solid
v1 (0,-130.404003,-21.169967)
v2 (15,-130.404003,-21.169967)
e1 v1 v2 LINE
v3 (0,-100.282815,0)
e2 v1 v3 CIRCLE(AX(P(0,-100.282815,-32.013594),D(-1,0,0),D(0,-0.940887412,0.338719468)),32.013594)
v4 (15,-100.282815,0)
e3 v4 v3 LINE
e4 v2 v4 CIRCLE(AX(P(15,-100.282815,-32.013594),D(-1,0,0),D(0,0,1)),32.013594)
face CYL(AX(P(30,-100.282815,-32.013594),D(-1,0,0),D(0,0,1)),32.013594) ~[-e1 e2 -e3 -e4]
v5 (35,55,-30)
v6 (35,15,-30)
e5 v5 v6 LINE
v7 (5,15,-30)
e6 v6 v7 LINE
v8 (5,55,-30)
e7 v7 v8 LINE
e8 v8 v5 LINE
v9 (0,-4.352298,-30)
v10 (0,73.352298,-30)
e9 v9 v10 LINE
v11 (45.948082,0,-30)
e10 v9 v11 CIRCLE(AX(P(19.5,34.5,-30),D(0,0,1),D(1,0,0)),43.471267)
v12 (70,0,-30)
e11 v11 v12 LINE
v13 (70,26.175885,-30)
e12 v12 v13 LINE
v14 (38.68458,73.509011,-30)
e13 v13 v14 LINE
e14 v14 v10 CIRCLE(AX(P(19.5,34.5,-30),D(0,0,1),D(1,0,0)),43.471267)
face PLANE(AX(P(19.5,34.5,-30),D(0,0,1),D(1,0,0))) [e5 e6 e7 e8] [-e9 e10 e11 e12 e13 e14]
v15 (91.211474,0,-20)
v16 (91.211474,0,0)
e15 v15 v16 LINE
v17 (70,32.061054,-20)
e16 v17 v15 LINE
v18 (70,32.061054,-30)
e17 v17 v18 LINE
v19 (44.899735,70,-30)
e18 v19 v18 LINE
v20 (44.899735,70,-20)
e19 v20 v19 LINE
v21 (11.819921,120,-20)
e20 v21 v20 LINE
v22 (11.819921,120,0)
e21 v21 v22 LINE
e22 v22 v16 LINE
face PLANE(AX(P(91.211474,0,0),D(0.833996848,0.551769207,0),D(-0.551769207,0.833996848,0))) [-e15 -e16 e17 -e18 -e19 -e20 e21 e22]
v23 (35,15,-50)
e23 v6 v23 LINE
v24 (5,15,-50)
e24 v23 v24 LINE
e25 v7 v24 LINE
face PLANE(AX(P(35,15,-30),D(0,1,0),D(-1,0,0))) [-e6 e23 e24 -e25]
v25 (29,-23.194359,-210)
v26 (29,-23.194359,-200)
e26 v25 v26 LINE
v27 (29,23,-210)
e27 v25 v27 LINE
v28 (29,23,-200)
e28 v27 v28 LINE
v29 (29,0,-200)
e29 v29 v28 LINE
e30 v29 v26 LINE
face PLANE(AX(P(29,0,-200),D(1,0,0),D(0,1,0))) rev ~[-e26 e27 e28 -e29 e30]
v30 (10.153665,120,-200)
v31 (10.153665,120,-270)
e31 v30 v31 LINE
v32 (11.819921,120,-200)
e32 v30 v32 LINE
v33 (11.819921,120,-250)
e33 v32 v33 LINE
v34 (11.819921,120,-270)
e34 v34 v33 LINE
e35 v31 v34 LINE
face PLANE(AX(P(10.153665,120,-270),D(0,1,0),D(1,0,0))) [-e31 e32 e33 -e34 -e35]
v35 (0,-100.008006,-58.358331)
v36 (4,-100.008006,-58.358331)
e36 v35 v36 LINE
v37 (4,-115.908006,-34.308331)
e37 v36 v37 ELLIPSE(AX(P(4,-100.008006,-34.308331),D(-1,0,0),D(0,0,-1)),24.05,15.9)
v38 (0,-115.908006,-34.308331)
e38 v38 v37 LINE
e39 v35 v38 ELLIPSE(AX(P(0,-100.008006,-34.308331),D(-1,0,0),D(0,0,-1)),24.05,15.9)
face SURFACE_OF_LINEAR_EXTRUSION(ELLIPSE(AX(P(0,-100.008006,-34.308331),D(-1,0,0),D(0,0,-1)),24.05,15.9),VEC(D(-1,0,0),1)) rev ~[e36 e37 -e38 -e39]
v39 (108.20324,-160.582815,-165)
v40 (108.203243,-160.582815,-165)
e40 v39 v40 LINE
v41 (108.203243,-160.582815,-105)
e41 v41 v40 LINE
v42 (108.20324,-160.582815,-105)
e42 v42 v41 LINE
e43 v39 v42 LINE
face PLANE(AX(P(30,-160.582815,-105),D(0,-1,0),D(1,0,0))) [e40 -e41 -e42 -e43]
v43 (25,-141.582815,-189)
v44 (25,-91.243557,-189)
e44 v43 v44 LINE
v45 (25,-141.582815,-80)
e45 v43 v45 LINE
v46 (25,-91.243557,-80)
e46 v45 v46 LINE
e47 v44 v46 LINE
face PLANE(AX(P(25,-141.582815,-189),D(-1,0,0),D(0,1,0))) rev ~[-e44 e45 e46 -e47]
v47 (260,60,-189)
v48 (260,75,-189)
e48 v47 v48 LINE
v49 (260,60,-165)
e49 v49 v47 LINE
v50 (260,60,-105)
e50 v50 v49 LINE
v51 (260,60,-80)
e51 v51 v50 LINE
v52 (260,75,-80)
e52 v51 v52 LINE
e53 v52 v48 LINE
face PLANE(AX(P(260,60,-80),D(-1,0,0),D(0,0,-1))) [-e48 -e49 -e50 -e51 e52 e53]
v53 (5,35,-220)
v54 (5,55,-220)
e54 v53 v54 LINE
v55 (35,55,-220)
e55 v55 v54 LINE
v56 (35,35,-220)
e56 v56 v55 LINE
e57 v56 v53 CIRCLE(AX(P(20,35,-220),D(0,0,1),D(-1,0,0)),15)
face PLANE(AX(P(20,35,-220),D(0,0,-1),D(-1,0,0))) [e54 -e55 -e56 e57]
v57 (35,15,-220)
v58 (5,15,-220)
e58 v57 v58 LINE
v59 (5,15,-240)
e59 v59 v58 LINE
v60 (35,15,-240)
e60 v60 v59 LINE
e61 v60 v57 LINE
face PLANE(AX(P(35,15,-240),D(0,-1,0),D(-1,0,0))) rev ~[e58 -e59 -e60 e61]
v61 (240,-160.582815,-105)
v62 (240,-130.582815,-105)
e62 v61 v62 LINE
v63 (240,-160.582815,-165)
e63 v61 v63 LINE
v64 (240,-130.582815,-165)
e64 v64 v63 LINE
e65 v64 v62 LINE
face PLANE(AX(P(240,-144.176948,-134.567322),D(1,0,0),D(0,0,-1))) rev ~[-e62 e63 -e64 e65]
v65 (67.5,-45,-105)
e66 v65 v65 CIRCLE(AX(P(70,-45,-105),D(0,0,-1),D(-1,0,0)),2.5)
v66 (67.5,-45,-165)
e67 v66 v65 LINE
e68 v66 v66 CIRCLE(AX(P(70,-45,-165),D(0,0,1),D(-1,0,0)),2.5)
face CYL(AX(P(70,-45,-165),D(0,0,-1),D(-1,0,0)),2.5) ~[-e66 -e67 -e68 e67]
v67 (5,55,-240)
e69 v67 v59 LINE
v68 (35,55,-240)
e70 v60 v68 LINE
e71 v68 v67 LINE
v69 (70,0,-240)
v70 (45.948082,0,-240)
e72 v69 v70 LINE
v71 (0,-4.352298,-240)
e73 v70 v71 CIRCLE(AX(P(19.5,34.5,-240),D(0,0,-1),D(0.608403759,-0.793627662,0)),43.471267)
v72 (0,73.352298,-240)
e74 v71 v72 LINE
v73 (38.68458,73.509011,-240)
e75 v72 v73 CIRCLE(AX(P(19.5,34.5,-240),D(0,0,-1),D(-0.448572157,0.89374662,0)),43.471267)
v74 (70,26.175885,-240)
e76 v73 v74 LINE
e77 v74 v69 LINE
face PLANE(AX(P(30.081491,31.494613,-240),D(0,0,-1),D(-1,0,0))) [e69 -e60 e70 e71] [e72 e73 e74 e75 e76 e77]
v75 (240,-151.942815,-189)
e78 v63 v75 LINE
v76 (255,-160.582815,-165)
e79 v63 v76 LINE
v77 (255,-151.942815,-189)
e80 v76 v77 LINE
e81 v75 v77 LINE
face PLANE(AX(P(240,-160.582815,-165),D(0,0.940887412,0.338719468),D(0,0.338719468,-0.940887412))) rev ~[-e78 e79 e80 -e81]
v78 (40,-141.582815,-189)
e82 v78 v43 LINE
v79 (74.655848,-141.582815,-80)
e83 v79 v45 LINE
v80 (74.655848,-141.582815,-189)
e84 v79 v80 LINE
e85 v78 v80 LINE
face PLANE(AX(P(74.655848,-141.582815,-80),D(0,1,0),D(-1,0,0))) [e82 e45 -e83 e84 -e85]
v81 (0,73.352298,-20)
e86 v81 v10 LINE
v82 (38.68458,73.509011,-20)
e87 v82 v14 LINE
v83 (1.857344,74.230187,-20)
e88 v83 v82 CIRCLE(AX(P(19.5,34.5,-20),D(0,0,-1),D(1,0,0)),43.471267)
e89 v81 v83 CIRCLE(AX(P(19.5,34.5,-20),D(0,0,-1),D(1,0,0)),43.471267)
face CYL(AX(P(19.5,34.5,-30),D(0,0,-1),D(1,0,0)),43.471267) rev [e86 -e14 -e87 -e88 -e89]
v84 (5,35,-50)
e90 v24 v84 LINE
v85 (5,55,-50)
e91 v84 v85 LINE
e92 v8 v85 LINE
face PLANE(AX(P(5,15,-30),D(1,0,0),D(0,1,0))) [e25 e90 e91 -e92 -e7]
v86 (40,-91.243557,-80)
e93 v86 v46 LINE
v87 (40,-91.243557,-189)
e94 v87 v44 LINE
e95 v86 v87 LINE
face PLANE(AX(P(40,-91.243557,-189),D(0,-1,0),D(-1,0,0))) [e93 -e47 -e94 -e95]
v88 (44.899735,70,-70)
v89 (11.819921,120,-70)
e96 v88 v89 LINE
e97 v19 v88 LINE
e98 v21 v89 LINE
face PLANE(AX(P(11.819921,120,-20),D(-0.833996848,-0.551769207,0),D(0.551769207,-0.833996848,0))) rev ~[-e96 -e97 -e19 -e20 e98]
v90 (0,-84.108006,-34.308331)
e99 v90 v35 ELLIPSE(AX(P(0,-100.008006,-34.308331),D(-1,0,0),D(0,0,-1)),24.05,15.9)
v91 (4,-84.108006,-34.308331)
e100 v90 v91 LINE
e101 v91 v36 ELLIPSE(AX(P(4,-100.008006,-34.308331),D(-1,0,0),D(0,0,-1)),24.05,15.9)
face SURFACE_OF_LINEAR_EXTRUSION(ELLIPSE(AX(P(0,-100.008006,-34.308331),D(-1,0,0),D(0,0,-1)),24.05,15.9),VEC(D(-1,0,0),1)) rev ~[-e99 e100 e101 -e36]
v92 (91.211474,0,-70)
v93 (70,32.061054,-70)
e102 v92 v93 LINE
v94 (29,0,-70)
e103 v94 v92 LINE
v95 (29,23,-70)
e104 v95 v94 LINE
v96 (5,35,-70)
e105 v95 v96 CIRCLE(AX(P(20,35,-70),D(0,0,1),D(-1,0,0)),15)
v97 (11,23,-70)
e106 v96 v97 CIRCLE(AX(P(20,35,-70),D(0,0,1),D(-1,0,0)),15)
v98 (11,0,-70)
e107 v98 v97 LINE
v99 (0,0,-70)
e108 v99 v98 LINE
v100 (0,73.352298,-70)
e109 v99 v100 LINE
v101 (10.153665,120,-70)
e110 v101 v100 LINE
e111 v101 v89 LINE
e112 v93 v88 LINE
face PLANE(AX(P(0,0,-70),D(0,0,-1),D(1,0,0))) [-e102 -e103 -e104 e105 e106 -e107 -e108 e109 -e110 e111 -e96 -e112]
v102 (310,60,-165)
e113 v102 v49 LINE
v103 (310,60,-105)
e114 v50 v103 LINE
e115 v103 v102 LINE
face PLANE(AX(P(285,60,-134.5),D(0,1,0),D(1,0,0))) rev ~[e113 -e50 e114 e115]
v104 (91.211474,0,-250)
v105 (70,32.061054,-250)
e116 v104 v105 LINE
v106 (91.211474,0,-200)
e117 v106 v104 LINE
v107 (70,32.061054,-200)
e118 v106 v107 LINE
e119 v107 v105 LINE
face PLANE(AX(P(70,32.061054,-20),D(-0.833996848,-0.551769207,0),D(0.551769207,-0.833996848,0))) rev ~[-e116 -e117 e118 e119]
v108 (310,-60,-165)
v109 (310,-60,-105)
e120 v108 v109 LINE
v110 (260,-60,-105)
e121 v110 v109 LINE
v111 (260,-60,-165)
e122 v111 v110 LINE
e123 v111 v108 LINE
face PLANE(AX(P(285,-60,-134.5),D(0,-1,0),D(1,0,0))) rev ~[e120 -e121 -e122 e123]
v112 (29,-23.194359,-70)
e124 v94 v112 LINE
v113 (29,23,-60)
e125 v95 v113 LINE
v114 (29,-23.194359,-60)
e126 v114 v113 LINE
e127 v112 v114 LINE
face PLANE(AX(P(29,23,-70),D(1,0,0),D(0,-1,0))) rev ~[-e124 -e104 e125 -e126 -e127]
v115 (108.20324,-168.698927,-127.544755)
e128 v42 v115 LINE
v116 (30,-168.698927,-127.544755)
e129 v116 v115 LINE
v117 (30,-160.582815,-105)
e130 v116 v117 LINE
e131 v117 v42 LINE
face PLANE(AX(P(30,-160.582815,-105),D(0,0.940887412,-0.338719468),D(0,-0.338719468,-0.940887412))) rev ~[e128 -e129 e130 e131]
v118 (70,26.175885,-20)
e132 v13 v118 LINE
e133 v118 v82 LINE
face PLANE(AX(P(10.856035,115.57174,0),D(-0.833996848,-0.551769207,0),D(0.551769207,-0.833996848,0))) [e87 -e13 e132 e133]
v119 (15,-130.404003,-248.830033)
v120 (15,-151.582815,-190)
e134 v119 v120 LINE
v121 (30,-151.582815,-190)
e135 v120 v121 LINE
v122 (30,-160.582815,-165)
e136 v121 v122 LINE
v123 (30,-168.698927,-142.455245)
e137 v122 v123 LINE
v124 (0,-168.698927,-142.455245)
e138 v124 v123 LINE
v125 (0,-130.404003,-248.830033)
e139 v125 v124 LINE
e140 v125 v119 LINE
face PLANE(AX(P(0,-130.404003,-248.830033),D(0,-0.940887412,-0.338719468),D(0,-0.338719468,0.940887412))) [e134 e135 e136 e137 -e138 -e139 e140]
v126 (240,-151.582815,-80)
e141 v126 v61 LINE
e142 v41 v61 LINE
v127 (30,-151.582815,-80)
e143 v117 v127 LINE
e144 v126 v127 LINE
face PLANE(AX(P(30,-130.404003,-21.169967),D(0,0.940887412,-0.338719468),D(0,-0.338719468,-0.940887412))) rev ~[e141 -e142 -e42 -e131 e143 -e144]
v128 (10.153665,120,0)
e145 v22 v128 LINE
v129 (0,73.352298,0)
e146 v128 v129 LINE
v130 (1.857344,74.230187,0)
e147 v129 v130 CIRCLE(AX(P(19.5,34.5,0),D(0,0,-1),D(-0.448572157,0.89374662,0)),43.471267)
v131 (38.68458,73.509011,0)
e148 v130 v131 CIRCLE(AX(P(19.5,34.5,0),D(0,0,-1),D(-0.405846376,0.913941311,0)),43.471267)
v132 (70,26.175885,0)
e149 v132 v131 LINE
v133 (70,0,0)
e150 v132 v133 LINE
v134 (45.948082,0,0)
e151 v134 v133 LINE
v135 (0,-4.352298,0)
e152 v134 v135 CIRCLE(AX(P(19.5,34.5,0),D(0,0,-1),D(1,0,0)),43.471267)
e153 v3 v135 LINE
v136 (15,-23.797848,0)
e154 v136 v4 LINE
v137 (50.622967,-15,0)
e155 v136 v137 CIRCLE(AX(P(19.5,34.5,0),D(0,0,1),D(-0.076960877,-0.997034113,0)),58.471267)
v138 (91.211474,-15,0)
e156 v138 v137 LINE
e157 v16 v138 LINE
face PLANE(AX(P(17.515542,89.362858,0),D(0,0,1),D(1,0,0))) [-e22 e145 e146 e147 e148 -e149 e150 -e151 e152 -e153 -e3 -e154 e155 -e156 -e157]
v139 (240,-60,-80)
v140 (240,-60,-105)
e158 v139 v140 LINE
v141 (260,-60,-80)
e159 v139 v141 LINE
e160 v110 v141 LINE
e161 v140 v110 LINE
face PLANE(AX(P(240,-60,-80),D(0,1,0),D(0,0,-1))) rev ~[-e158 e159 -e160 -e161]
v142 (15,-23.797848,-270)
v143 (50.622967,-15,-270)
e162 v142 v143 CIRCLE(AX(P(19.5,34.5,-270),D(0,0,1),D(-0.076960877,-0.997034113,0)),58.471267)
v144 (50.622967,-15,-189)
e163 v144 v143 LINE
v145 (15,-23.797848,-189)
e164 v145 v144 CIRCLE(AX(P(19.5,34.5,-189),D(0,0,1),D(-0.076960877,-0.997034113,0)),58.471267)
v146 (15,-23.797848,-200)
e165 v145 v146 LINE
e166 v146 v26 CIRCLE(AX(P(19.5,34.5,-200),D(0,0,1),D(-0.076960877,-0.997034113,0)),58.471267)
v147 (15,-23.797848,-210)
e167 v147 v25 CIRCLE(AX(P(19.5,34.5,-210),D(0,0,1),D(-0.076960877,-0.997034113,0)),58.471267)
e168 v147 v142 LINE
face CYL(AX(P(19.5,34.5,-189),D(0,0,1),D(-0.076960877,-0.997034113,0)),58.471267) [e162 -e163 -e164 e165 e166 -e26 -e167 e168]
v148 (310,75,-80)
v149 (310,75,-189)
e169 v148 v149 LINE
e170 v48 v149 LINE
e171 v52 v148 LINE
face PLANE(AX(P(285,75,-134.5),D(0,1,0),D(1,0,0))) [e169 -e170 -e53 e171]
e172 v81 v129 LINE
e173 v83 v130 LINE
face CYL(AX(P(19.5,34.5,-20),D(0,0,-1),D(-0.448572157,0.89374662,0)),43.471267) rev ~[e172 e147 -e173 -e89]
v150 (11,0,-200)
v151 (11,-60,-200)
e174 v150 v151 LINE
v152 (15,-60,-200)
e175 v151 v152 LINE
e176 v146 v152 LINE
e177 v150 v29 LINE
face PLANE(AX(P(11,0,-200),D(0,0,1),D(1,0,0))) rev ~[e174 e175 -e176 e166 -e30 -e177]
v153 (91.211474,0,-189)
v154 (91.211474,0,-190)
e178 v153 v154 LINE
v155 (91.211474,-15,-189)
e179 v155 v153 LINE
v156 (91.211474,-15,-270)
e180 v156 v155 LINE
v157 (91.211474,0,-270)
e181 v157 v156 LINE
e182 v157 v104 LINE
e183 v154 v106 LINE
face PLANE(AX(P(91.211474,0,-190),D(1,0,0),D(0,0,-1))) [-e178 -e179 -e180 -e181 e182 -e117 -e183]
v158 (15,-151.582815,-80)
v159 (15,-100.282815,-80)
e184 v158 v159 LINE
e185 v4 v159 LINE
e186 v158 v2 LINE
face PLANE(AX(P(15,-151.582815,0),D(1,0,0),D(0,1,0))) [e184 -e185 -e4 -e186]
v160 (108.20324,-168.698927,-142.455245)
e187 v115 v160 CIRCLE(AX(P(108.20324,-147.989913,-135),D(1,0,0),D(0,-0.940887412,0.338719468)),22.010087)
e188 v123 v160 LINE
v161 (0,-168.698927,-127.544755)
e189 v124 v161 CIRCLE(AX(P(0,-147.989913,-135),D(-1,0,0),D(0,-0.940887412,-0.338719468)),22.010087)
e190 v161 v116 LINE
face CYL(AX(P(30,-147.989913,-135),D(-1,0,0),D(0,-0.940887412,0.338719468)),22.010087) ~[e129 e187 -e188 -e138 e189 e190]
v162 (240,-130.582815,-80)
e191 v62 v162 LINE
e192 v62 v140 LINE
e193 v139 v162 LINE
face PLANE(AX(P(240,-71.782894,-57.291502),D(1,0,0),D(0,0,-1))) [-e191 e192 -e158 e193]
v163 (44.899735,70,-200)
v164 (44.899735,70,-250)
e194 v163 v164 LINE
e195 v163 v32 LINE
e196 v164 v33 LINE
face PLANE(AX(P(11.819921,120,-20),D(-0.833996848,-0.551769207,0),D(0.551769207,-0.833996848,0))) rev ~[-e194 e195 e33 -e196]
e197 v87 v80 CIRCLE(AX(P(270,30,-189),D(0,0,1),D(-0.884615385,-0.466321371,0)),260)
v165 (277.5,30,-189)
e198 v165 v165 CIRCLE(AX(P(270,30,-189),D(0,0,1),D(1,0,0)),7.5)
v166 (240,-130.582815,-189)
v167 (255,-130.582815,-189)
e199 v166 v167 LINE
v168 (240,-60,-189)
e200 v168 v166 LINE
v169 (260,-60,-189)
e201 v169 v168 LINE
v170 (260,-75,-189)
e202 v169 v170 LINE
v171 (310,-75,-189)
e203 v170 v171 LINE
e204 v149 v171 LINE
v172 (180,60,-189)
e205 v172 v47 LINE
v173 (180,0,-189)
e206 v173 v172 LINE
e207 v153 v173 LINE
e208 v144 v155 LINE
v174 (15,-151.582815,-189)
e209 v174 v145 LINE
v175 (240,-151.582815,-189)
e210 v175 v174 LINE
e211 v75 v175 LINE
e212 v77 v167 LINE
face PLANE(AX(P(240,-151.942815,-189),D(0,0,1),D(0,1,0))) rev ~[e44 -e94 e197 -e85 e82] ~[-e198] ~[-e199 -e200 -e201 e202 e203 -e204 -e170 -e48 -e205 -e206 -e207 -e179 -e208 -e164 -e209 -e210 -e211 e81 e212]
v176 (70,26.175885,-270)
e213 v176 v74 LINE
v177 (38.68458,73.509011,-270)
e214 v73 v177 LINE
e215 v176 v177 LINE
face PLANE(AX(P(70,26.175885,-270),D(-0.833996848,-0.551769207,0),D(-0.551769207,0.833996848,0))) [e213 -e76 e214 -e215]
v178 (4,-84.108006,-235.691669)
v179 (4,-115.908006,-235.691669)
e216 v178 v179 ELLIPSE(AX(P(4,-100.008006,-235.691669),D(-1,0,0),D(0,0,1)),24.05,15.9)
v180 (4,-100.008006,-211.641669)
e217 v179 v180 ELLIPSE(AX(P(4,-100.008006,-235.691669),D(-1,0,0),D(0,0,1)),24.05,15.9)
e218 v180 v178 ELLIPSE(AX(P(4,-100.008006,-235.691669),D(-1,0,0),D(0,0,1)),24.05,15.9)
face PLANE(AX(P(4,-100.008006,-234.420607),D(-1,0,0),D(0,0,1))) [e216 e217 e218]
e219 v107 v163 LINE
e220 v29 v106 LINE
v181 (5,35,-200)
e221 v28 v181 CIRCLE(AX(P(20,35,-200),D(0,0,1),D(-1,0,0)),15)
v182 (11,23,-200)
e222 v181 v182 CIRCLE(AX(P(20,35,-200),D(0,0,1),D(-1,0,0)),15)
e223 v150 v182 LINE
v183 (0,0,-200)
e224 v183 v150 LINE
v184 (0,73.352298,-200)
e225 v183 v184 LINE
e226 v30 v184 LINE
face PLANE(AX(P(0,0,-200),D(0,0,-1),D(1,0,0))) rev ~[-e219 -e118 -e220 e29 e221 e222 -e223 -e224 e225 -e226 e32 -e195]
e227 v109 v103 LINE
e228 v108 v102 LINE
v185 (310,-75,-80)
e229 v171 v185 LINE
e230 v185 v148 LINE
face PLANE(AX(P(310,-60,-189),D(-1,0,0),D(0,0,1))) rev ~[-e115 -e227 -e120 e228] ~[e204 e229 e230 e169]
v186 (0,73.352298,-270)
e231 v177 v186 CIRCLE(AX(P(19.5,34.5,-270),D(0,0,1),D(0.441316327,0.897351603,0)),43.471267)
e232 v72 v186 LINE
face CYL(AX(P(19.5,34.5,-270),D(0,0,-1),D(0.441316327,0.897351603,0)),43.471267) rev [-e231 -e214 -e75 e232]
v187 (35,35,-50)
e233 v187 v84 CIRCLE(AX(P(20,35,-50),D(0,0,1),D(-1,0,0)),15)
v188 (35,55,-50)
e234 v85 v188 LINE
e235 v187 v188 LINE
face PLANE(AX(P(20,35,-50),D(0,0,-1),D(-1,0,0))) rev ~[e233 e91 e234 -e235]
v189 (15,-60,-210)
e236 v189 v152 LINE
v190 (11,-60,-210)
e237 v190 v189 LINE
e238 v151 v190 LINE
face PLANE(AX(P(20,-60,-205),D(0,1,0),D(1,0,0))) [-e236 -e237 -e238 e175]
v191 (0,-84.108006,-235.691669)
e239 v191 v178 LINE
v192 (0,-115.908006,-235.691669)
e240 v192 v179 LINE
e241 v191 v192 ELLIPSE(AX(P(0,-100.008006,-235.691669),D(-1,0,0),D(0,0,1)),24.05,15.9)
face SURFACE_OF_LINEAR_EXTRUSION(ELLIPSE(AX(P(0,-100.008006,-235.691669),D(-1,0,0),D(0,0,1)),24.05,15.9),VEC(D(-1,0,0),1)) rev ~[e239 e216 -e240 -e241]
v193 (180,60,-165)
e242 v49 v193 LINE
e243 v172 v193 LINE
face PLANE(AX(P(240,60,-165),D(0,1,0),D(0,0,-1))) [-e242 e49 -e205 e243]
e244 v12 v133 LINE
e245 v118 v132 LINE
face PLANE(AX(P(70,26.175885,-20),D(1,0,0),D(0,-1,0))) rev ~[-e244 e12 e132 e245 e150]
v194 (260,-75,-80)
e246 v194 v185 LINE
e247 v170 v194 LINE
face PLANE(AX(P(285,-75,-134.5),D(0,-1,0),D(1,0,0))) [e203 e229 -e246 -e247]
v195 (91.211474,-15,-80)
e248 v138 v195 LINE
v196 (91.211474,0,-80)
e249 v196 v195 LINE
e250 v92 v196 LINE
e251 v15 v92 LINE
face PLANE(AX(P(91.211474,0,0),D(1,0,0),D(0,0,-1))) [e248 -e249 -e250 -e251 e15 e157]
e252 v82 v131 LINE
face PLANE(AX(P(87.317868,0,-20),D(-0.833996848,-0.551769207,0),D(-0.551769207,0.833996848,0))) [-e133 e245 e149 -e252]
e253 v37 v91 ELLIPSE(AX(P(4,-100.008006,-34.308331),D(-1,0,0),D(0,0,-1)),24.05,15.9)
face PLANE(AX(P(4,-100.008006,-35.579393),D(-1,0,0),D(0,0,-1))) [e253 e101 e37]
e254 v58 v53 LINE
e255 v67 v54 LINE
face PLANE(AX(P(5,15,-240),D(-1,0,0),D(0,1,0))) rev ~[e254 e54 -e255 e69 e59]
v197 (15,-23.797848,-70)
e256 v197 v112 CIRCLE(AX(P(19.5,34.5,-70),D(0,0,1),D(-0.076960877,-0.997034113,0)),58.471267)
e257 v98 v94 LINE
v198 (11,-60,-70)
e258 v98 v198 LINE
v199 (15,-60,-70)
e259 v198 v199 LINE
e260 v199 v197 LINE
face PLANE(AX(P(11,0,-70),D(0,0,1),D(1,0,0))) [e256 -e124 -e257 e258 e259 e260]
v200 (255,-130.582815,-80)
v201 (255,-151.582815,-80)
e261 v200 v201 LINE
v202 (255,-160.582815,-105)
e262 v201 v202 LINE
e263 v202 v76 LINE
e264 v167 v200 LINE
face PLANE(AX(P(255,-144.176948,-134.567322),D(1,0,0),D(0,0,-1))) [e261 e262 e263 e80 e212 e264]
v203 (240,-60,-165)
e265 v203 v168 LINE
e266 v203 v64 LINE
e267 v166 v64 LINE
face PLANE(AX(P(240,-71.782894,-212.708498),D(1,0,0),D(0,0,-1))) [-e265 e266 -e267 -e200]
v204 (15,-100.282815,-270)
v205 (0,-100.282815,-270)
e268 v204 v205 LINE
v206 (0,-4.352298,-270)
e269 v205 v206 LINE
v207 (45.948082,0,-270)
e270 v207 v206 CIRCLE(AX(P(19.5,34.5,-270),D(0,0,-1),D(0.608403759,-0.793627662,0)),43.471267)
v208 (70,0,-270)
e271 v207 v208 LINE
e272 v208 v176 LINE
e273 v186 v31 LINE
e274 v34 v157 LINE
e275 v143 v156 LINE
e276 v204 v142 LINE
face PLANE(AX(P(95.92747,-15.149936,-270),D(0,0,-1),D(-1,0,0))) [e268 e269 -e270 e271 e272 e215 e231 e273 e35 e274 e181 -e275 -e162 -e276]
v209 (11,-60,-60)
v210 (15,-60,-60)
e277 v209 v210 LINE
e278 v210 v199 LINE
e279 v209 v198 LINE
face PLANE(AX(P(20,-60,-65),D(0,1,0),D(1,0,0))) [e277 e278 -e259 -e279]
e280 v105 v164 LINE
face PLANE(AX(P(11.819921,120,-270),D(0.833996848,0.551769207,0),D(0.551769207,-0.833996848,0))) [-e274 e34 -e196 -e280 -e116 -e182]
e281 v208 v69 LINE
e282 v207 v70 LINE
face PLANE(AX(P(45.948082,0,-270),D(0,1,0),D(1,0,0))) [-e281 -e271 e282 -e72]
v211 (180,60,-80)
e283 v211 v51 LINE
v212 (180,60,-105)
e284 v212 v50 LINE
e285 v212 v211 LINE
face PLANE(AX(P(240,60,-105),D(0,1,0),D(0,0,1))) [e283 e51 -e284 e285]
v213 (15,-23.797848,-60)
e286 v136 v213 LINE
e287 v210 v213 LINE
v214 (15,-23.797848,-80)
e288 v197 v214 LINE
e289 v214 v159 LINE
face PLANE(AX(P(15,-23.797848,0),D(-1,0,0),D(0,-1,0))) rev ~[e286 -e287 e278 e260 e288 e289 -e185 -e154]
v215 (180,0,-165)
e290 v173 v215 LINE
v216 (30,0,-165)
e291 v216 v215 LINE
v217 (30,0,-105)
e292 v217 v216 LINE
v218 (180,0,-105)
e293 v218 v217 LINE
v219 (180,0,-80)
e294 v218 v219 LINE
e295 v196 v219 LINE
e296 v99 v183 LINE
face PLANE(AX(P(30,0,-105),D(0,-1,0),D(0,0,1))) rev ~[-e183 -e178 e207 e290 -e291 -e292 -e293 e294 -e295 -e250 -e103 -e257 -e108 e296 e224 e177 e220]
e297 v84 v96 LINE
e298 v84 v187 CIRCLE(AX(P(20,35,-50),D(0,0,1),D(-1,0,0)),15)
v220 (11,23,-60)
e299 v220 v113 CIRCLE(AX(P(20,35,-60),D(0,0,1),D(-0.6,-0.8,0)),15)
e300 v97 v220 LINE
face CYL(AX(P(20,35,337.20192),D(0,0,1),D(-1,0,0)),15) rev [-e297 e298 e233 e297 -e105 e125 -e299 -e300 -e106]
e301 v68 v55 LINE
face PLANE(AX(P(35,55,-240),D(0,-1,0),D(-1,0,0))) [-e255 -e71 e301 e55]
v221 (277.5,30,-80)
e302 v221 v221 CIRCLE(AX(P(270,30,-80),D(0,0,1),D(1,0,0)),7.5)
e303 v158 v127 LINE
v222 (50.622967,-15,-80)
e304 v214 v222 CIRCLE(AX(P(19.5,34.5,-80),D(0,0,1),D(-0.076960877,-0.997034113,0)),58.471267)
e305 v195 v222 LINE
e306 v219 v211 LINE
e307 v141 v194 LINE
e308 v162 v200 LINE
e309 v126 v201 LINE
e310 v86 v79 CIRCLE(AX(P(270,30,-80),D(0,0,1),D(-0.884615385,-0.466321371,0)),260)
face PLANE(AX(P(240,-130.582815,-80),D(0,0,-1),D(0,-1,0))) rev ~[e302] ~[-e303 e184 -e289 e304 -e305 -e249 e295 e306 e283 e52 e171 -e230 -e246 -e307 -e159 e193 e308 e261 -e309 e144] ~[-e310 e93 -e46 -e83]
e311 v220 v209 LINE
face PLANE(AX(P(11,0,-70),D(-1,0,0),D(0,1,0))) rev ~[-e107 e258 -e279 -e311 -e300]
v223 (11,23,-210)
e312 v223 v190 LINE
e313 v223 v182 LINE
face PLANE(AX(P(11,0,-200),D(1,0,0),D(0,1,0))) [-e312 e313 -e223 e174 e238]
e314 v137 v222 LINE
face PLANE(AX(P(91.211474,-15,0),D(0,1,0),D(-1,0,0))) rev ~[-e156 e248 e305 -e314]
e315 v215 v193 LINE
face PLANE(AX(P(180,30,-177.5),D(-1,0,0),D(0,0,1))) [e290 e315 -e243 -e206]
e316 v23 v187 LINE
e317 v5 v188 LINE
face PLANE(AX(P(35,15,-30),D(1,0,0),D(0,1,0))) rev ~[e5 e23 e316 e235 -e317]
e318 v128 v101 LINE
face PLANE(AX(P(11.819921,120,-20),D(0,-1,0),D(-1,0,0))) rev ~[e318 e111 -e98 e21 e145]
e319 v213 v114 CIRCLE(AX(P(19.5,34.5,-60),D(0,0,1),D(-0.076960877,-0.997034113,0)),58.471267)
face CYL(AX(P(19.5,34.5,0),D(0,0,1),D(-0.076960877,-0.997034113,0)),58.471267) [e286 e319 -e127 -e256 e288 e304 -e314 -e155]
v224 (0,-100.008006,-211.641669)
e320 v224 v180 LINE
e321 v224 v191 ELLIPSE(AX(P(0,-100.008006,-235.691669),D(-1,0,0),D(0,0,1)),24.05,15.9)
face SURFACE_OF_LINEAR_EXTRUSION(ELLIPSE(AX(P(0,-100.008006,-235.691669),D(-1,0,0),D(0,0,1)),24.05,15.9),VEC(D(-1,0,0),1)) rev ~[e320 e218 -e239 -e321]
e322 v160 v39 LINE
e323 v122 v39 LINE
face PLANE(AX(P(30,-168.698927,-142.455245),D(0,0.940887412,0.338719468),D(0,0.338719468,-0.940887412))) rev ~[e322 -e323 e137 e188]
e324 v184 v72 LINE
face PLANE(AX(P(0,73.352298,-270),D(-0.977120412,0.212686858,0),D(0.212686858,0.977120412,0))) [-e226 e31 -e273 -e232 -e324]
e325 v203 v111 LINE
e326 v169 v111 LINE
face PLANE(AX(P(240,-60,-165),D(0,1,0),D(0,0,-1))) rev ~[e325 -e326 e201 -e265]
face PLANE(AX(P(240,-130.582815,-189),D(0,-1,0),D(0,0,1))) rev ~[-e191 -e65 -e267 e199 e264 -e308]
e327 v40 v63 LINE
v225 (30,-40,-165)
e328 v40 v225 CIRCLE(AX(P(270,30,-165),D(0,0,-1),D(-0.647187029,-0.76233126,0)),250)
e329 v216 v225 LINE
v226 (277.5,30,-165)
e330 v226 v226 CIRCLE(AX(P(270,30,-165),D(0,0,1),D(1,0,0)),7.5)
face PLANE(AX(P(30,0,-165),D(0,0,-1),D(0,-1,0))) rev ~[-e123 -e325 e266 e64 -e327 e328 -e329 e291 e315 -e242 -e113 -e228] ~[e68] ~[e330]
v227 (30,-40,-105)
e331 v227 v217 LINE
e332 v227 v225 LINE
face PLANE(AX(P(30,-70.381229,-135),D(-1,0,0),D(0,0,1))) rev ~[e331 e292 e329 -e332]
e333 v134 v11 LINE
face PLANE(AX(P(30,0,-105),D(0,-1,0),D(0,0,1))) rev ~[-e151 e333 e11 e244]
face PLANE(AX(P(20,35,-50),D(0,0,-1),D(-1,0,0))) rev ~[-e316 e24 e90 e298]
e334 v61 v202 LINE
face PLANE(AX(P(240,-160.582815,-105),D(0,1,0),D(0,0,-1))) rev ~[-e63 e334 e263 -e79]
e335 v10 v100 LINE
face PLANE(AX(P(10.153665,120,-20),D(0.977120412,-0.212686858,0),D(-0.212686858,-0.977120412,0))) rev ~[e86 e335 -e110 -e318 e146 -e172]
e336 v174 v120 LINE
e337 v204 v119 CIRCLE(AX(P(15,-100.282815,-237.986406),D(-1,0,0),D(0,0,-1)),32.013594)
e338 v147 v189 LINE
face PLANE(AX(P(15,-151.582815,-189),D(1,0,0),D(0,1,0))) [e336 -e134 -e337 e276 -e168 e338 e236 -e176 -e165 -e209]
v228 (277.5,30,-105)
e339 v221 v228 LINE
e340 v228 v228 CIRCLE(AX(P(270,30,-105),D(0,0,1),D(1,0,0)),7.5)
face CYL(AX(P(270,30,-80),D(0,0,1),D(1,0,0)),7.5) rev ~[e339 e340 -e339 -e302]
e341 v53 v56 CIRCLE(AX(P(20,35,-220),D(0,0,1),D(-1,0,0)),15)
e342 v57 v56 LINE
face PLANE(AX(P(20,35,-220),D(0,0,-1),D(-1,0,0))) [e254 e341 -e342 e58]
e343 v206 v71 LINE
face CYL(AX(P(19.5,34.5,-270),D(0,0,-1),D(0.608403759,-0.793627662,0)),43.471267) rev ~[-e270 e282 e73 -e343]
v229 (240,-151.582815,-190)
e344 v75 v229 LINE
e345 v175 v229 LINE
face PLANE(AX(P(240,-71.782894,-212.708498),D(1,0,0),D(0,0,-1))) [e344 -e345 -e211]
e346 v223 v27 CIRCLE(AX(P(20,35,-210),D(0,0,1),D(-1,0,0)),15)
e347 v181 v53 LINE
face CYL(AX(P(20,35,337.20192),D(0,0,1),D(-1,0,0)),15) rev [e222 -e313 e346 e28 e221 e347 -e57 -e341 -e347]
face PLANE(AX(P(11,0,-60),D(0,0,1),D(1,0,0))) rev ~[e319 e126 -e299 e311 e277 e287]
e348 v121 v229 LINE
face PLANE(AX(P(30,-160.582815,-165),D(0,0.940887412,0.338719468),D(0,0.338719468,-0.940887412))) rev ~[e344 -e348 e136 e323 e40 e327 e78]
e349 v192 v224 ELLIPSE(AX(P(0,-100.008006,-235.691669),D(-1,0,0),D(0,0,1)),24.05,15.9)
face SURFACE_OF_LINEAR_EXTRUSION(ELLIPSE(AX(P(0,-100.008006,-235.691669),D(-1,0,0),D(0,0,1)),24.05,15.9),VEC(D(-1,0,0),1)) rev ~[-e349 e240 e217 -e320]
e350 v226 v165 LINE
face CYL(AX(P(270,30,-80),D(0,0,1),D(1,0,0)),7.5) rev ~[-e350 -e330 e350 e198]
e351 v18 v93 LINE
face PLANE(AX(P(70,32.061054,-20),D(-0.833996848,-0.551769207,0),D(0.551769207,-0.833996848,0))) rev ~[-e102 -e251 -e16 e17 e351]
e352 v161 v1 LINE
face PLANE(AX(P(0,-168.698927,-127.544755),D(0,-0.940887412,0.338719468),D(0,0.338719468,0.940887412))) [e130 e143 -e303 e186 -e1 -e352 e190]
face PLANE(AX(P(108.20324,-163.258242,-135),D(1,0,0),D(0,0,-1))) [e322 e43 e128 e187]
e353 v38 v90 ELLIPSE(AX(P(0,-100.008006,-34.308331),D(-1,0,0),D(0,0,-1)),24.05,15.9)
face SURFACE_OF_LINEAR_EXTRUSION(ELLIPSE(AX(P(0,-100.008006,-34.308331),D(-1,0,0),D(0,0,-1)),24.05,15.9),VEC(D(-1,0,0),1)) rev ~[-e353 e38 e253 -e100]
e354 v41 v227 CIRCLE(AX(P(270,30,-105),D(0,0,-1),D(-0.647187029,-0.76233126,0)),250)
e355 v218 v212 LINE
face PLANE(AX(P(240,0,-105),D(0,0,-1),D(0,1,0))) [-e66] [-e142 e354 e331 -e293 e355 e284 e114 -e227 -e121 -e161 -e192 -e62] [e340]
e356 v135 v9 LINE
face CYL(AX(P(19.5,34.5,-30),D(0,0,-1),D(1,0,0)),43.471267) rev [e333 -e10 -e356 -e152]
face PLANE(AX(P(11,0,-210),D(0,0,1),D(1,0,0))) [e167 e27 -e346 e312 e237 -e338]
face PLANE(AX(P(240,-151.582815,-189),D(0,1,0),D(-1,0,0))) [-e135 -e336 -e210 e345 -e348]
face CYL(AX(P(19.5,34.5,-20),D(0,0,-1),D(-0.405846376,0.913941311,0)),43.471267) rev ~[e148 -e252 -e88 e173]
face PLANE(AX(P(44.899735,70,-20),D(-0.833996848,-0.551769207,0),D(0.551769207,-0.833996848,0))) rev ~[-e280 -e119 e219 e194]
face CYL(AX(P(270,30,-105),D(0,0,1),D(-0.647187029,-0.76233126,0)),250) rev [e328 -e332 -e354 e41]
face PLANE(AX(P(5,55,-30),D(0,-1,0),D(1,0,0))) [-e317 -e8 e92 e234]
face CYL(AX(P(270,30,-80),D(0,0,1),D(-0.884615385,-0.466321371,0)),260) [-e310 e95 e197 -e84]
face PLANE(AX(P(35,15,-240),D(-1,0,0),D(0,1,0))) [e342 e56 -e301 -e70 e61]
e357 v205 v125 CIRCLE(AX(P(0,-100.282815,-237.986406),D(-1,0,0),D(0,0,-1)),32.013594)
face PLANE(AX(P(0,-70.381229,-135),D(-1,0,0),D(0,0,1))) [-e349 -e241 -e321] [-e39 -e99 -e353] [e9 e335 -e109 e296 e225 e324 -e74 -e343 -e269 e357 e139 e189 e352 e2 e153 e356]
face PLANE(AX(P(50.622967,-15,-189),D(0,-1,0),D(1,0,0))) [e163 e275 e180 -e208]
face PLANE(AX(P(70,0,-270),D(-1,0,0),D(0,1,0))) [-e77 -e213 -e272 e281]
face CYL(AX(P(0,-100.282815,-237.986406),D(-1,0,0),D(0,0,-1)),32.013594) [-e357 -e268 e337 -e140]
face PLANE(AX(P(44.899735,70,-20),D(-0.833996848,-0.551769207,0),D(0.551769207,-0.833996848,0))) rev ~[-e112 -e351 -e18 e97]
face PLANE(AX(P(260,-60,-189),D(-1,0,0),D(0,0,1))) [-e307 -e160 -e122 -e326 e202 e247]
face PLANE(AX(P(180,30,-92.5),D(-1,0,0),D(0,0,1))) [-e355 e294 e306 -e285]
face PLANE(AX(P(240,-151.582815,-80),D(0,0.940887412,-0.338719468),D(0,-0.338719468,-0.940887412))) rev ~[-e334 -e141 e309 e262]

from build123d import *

# Parameters (mm, degrees)
EXTRUDE_1_DEPTH           = 30
EXTRUDE_2_DEPTH           = 210
SKETCH_8_W                = 25
SKETCH_8_H                = 120
EXTRUDE_5_DEPTH           = 70
SKETCH_9_W                = 25
SKETCH_9_H                = 60
EXTRUDE_6_DEPTH           = 60
SKETCH_10_R               = 7.5
CUT_EXTRUDE_3_DEPTH       = 402.372644808
EXTRUDE_7_DEPTH           = 60
EXTRUDE_8_REACH           = 392.16
SKETCH_12_R               = 2.5
SKETCH_14_W               = 125
SKETCH_14_H               = 50
EXTRUDE_9_DEPTH           = 120
SKETCH_15_W               = 70
SKETCH_15_H               = 70
CUT_EXTRUDE_4_DEPTH       = 10
CUT_EXTRUDE_5_DEPTH       = 20
SKETCH_17_R               = 43.471266984
CUT_EXTRUDE_6_DEPTH       = 428.317212384
EXTRUDE_10_DEPTH          = 20
EXTRUDE_11_DEPTH          = 20
CUT_EXTRUDE_7_DEPTH       = 434.012701892
CUT_EXTRUDE_8_DEPTH       = 434.012701892
EXTRUDE_19_REACH          = 446.86
EXTRUDE_20_DEPTH          = 20
EXTRUDE_21_DEPTH          = 20
EXTRUDE_START             = 20
EXTRUDE_22_DEPTH          = 20
CUT_EXTRUDE_9_DEPTH       = 30
CUT_EXTRUDE_11_DEPTH      = 407.201920232
CUT_EXTRUDE_11_DEPTH_BACK = 407.201920232
SKETCH_29_R               = 15
EXTRUDE_23_DEPTH          = 78.20324
SKETCH_33_W               = 30
SKETCH_33_H               = 40
CUT_EXTRUDE_14_DEPTH      = 20
SKETCH_34_W               = 18
SKETCH_34_H               = 35.300600551
CUT_EXTRUDE_15_DEPTH      = 10
CUT_EXTRUDE_16_DEPTH      = 10
SKETCH_36_RX              = 24.05
SKETCH_36_RY              = 15.9
SKETCH_36_R               = 15.9
CUT_EXTRUDE_17_DEPTH      = 4
SKETCH_37_W               = 148.788525811
SKETCH_37_H               = 80
CUT_EXTRUDE_18_DEPTH      = 445.859528391
SKETCH_38_W               = 76.211474189
SKETCH_38_H               = 51.3
CUT_EXTRUDE_20_DEPTH      = 80
CUT_EXTRUDE_START         = -81
CUT_EXTRUDE_21_DEPTH      = 81
CUT_EXTRUDE_22_DEPTH      = 402.372644808
SKETCH_41_W               = 18
SKETCH_41_H               = 10
CUT_EXTRUDE_23_DEPTH      = 60
SKETCH_44_W               = 50
SKETCH_44_H               = 109
EXTRUDE_26_DEPTH          = 15
SKETCH_45_W               = 50
SKETCH_45_H               = 109
EXTRUDE_27_DEPTH          = 15
EXTRUDE_28_DEPTH          = 15
SKETCH_47_W               = 15
SKETCH_47_H               = 50.339258453
CUT_EXTRUDE_24_DEPTH      = 109


with BuildPart() as part:
    # 草图1 → 凸台-拉伸1 (new body)
    with BuildSketch(Plane(origin=(0, 0, 0), x_dir=(0, 0, -1), z_dir=(1, 0, 0))):
        with BuildLine():
            Line((0, 0), (270, 0))
            Line((270, 0), (270, -100.282814983))
            ThreePointArc((270, -100.282814983), (264.178138298, -118.691056762), (248.830033233, -130.404003019))
            Line((248.830033233, -130.404003019), (142.45524498, -168.69892679))
            ThreePointArc((142.45524498, -168.69892679), (135, -170), (127.54475502, -168.69892679))
            Line((127.54475502, -168.69892679), (21.169966767, -130.404003019))
            ThreePointArc((21.169966767, -130.404003019), (5.821861702, -118.691056762), (0, -100.282814983))
            Line((0, -100.282814983), (0, 0))
        make_face()
    extrude(amount=EXTRUDE_1_DEPTH)

    # 草图2 → 凸台-拉伸2 (add)
    with BuildSketch(Plane(origin=(30, 0, 0), x_dir=(0, 0, -1), z_dir=(1, 0, 0))):
        with BuildLine():
            Line((105, -160.582814983), (105, 0))
            Line((105, 0), (0, 0))
            Line((0, 0), (0, -100.282814983))
            ThreePointArc((0, -100.282814983), (5.821861702, -118.691056762), (21.169966767, -130.404003019))
            Line((21.169966767, -130.404003019), (105, -160.582814983))
        make_face()
        with BuildLine():
            Line((270, 0), (165, 0))
            Line((165, 0), (165, -160.582814983))
            Line((165, -160.582814983), (248.830033233, -130.404003019))
            ThreePointArc((248.830033233, -130.404003019), (264.178138298, -118.691056762), (270, -100.282814983))
            Line((270, -100.282814983), (270, 0))
        make_face()
    extrude(amount=EXTRUDE_2_DEPTH)

    # 草图8 → 凸台-拉伸5 (add)
    with BuildSketch(Plane(origin=(240, 0, 0), x_dir=(0, 0, -1), z_dir=(1, 0, 0))):
        with Locations((92.5, 0)):
            Rectangle(SKETCH_8_W, SKETCH_8_H)
        with Locations((177.5, 0)):
            Rectangle(SKETCH_8_W, SKETCH_8_H)
    extrude(amount=EXTRUDE_5_DEPTH)

    # 草图9 → 凸台-拉伸6 (add)
    with BuildSketch(Plane.ZY.offset(-240)):
        with Locations((-92.5, 30)):
            Rectangle(SKETCH_9_W, SKETCH_9_H)
        with Locations((-177.5, 30)):
            Rectangle(SKETCH_9_W, SKETCH_9_H)
    extrude(amount=EXTRUDE_6_DEPTH)

    # 草图10 → 切除-拉伸3 (cut, through all)
    with BuildSketch(Plane.XY.offset(-80)):
        with Locations((270, 30)):
            Circle(SKETCH_10_R)
    extrude(amount=-CUT_EXTRUDE_3_DEPTH, mode=Mode.SUBTRACT)

    # 草图11 → 凸台-拉伸7 (add)
    with BuildSketch(Plane(origin=(0, 0, -105), x_dir=(-1, 0, 0), z_dir=(0, 0, -1))):
        with BuildLine():
            Line((-30, -40), (-30, -160.582814983))
            Line((-30, -160.582814983), (-108.203242822, -160.582814983))
            ThreePointArc((-108.203242822, -160.582814983), (-60.24964282, -106.032303748), (-30, -40))
        make_face()
    extrude(amount=EXTRUDE_7_DEPTH)

    # 草图12 → 凸台-拉伸8 (add, up to next)
    with BuildSketch(Plane.XY.offset(-165), mode=Mode.PRIVATE) as extrude_8_sk1:
        with Locations(Location((70, -45, 0), (0, 0, 180))):
            Circle(SKETCH_12_R)
    extrude_8_tool1 = extrude(extrude_8_sk1.sketch, amount=EXTRUDE_8_REACH, mode=Mode.PRIVATE) - part.part
    add(extrude_8_tool1.solids().sort_by_distance((70, -45, -165))[0])

    # 草图14 → 凸台-拉伸9 (add)
    with BuildSketch(Plane(origin=(0, 0, 0), x_dir=(1, 0, 0), z_dir=(0, 1, 0))):
        with Locations((62.5, 225)):
            Rectangle(SKETCH_14_W, SKETCH_14_H)
        with Locations((62.5, 45)):
            Rectangle(SKETCH_14_W, SKETCH_14_H)
    extrude(amount=EXTRUDE_9_DEPTH)

    # 草图15 → 切除-拉伸4 (cut)
    with BuildSketch(Plane.XY.offset(-20)):
        with Locations((35, 35)):
            Rectangle(SKETCH_15_W, SKETCH_15_H)
    extrude(amount=-CUT_EXTRUDE_4_DEPTH, mode=Mode.SUBTRACT)

    # 草图16 → 切除-拉伸5 (cut)
    with BuildSketch(Plane.XY.offset(-30)):
        Polygon((35, 15), (5, 15), (5, 55), (35, 55), (35, 35), align=None)
    extrude(amount=-CUT_EXTRUDE_5_DEPTH, mode=Mode.SUBTRACT)

    # 草图17 → 切除-拉伸6 (cut, through all)
    with BuildSketch(Plane.XY.offset(-30)):
        with Locations((19.5, 34.5)):
            Circle(SKETCH_17_R)
    extrude(amount=CUT_EXTRUDE_6_DEPTH, mode=Mode.SUBTRACT)

    # 草图18 → 凸台-拉伸10 (add)
    with BuildSketch(Plane.XY.offset(-20)):
        Polygon((11.819921283, 120), (91.211474189, 0), (87.317867735, 0), (10.741661946, 115.744614613), align=None)
    extrude(amount=EXTRUDE_10_DEPTH)

    # 草图19 → 凸台-拉伸11 (add)
    with BuildSketch(Plane.XY.offset(-20)):
        with BuildLine():
            Line((1.857343832, 74.230186717), (10.856035233, 115.571739869))
            Line((10.856035233, 115.571739869), (10.741661946, 115.744614613))
            Line((10.741661946, 115.744614613), (11.819921283, 120))
            Line((11.819921283, 120), (10.153664863, 120))
            Line((10.153664863, 120), (0, 73.352297914))
            ThreePointArc((0, 73.352297914), (0.923485284, 73.80221564), (1.857343832, 74.230186717))
        make_face()
    extrude(amount=EXTRUDE_11_DEPTH)

    # 草图20 → 切除-拉伸7 (cut, through all)
    with BuildSketch(Plane.XY.offset(-20)):
        Polygon((0, 120), (0, 73.352297914), (10.153664863, 120), align=None)
    extrude(amount=-CUT_EXTRUDE_7_DEPTH, mode=Mode.SUBTRACT)

    # 草图22 → 切除-拉伸8 (cut, through all)
    with BuildSketch(Plane.XY.offset(-20)):
        Polygon((44.899734993, 70), (70, 32.061054476), (91.211474189, 0), (125, 0), (125, 120), (11.819921283, 120), align=None)
    extrude(amount=-CUT_EXTRUDE_8_DEPTH, mode=Mode.SUBTRACT)

    # 草图23 → 凸台-拉伸19 (add, up to next)
    with BuildSketch(Plane.XY, mode=Mode.PRIVATE) as extrude_19_sk1:
        with BuildLine():
            Line((87.317867735, 0), (91.211474189, 0))
            Line((91.211474189, 0), (11.819921283, 120))
            Line((11.819921283, 120), (10.153664863, 120))
            Line((10.153664863, 120), (0, 73.352297914))
            ThreePointArc((0, 73.352297914), (0.923485284, 73.80221564), (1.857343832, 74.230186717))
            Line((1.857343832, 74.230186717), (10.856035233, 115.571739869))
            Line((10.856035233, 115.571739869), (87.317867735, 0))
        make_face()
    extrude_19_tool1 = extrude(extrude_19_sk1.sketch, amount=-EXTRUDE_19_REACH, mode=Mode.PRIVATE) - part.part
    add(extrude_19_tool1.solids().sort_by_distance((89.264671, 1.5073, 0))[0])

    # 草图24 → 凸台-拉伸20 (add)
    with BuildSketch(Plane.XY.offset(-20)):
        Polygon((87.317867735, 0), (70, 26.175884614), (70, 0), align=None)
    extrude(amount=EXTRUDE_20_DEPTH)

    # 草图25 → 凸台-拉伸21 (add)
    with BuildSketch(Plane.XY.offset(-20)):
        with BuildLine():
            Line((38.684579851, 73.509011127), (10.856035233, 115.571739869))
            Line((10.856035233, 115.571739869), (1.857343832, 74.230186717))
            ThreePointArc((1.857343832, 74.230186717), (20.351120273, 77.962934179), (38.684579851, 73.509011127))
        make_face()
    extrude(amount=EXTRUDE_21_DEPTH)

    # 草图26 → 凸台-拉伸22 (add)
    with BuildSketch(Plane(origin=(0, 0, -250), x_dir=(-1, 0, 0), z_dir=(0, 0, -1)).offset(EXTRUDE_START)):
        with BuildLine():
            Line((-70, 26.175884614), (-38.684579851, 73.509011127))
            ThreePointArc((-38.684579851, 73.509011127), (-19.323897117, 77.970910285), (0, 73.352297914))
            Line((0, 73.352297914), (-10.153664863, 120))
            Line((-10.153664863, 120), (-11.819921283, 120))
            Line((-11.819921283, 120), (-91.211474189, 0))
            Line((-91.211474189, 0), (-240, 0))
            Line((-240, 0), (-240, -100.282814983))
            Line((-240, -100.282814983), (0, -100.282814983))
            Line((0, -100.282814983), (0, -4.352297914))
            ThreePointArc((0, -4.352297914), (-23.599339693, -8.77755154), (-45.948082222, 0))
            Line((-45.948082222, 0), (-70, 0))
            Line((-70, 0), (-70, 26.175884614))
        make_face()
    extrude(amount=-EXTRUDE_22_DEPTH)

    # 草图27 → 切除-拉伸9 (cut)
    with BuildSketch(Plane(origin=(0, 0, -270), x_dir=(-1, 0, 0), z_dir=(0, 0, -1))):
        with BuildLine():
            Line((-38.684579851, 73.509011127), (-70, 26.175884614))
            Line((-70, 26.175884614), (-70, 0))
            Line((-70, 0), (-45.948082222, 0))
            ThreePointArc((-45.948082222, 0), (-23.599339693, -8.77755154), (0, -4.352297914))
            Line((0, -4.352297914), (0, 73.352297914))
            ThreePointArc((0, 73.352297914), (-19.323897117, 77.970910285), (-38.684579851, 73.509011127))
        make_face()
    extrude(amount=-CUT_EXTRUDE_9_DEPTH, mode=Mode.SUBTRACT)

    # 草图29 → 切除-拉伸11 (cut, two sides: drawn at the far end of the back side and taken through both)
    with BuildSketch(Plane(origin=(0, 0, -70), x_dir=(-1, 0, 0), z_dir=(0, 0, -1)).offset(-CUT_EXTRUDE_11_DEPTH_BACK)):
        with Locations((-20, 35)):
            Circle(SKETCH_29_R)
    extrude(amount=CUT_EXTRUDE_11_DEPTH + CUT_EXTRUDE_11_DEPTH_BACK, mode=Mode.SUBTRACT)

    # 草图30 → 凸台-拉伸23 (add)
    with BuildSketch(Plane(origin=(30, 0, 0), x_dir=(0, 0, -1), z_dir=(1, 0, 0))):
        with BuildLine():
            Line((142.45524498, -168.69892679), (165, -160.582814983))
            Line((165, -160.582814983), (105, -160.582814983))
            Line((105, -160.582814983), (127.54475502, -168.69892679))
            ThreePointArc((127.54475502, -168.69892679), (135, -170), (142.45524498, -168.69892679))
        make_face()
    extrude(amount=EXTRUDE_23_DEPTH)

    # 草图33 → 切除-拉伸14 (cut)
    with BuildSketch(Plane(origin=(0, 0, -240), x_dir=(-1, 0, 0), z_dir=(0, 0, -1))):
        with Locations((-20, 35)):
            Rectangle(SKETCH_33_W, SKETCH_33_H)
    extrude(amount=-CUT_EXTRUDE_14_DEPTH, mode=Mode.SUBTRACT)

    # 草图34 → 切除-拉伸15 (cut)
    with BuildSketch(Plane.XY.offset(-200)):
        with Locations((20, 17.650300276)):
            Rectangle(SKETCH_34_W, SKETCH_34_H)
    extrude(amount=-CUT_EXTRUDE_15_DEPTH, mode=Mode.SUBTRACT)

    # 草图35 → 切除-拉伸16 (cut)
    with BuildSketch(Plane(origin=(0, 0, -70), x_dir=(-1, 0, 0), z_dir=(0, 0, -1))):
        with BuildLine():
            Line((-11, 0), (-11, 23))
            ThreePointArc((-11, 23), (-20, 20), (-29, 23))
            Line((-29, 23), (-29, 0))
            Line((-29, 0), (-11, 0))
        make_face()
    extrude(amount=-CUT_EXTRUDE_16_DEPTH, mode=Mode.SUBTRACT)

    # 草图36 → 切除-拉伸17 (cut)
    # profile 1 of 6: a face of its own
    with BuildSketch(Plane.ZY):
        with Locations((-235.69166945, -100.008005659)):
            Ellipse(SKETCH_36_RX, SKETCH_36_RY)
        with Locations((-235.69166945, -100.008005659)):
            Circle(SKETCH_36_R, mode=Mode.SUBTRACT)
    # profile 2 of 6: a face of its own
    with BuildSketch(Plane.ZY):
        with Locations((-235.69166945, -100.008005659)):
            Ellipse(SKETCH_36_RX, SKETCH_36_RY)
        with Locations((-235.69166945, -100.008005659)):
            Circle(SKETCH_36_R, mode=Mode.SUBTRACT)
    # profile 3 of 6: a face of its own
    with BuildSketch(Plane.ZY):
        with Locations((-235.69166945, -100.008005659)):
            Circle(SKETCH_36_R)
    # profile 4 of 6: a face of its own
    with BuildSketch(Plane.ZY):
        with Locations(Location((-34.30833055, -100.008005659), (0, 0, 180))):
            Ellipse(SKETCH_36_RX, SKETCH_36_RY)
        with Locations((-34.30833055, -100.008005659)):
            Circle(SKETCH_36_R, mode=Mode.SUBTRACT)
    # profile 5 of 6: a face of its own
    with BuildSketch(Plane.ZY):
        with Locations(Location((-34.30833055, -100.008005659), (0, 0, 180))):
            Ellipse(SKETCH_36_RX, SKETCH_36_RY)
        with Locations((-34.30833055, -100.008005659)):
            Circle(SKETCH_36_R, mode=Mode.SUBTRACT)
    # profile 6 of 6: a face of its own
    with BuildSketch(Plane.ZY):
        with Locations((-34.30833055, -100.008005659)):
            Circle(SKETCH_36_R)
    extrude(amount=-CUT_EXTRUDE_17_DEPTH, mode=Mode.SUBTRACT)

    # 草图37 → 切除-拉伸18 (cut, through all)
    with BuildSketch(Plane(origin=(0, 0, 0), x_dir=(1, 0, 0), z_dir=(0, 1, 0))):
        with Locations((165.605737095, 40)):
            Rectangle(SKETCH_37_W, SKETCH_37_H)
        with Locations((165.605737095, 230)):
            Rectangle(SKETCH_37_W, SKETCH_37_H)
    extrude(amount=-CUT_EXTRUDE_18_DEPTH, mode=Mode.SUBTRACT)

    # 草图38 → 切除-拉伸20 (cut)
    with BuildSketch(Plane.XY):
        with Locations((53.105737095, -125.932814983)):
            Rectangle(SKETCH_38_W, SKETCH_38_H)
        Polygon((91.211474189, -15), (76.211474189, -15), (76.211474189, -85.282814983), (15, -85.282814983), (15, -100.282814983), (91.211474189, -100.282814983), align=None)
        with BuildLine():
            ThreePointArc((15, -23.79784784), (33.51949079, -22.265684535), (50.622966805, -15))
            Line((50.622966805, -15), (70, -15))
            Line((70, -15), (76.211474189, -15))
            Line((76.211474189, -15), (76.211474189, -85.282814983))
            Line((76.211474189, -85.282814983), (15, -85.282814983))
            Line((15, -85.282814983), (15, -23.79784784))
        make_face()
    extrude(amount=-CUT_EXTRUDE_20_DEPTH, mode=Mode.SUBTRACT)

    # 草图39 → 切除-拉伸21 (cut)
    with BuildSketch(Plane(origin=(0, 0, -270), x_dir=(-1, 0, 0), z_dir=(0, 0, -1)).offset(CUT_EXTRUDE_START)):
        with BuildLine():
            Line((-180, 60), (-310, 60))
            Line((-310, 60), (-310, -60))
            Line((-310, -60), (-240, -60))
            Line((-240, -60), (-240, -151.582814983))
            Line((-240, -151.582814983), (-15, -151.582814983))
            Line((-15, -151.582814983), (-15, -23.79784784))
            ThreePointArc((-15, -23.79784784), (-33.51949079, -22.265684535), (-50.622966805, -15))
            Line((-50.622966805, -15), (-91.211474189, -15))
            Line((-91.211474189, -15), (-91.211474189, 0))
            Line((-91.211474189, 0), (-180, 0))
            Line((-180, 0), (-180, 60))
        make_face()
    extrude(amount=CUT_EXTRUDE_21_DEPTH, mode=Mode.SUBTRACT)

    # 草图40 → 切除-拉伸22 (cut, through all)
    with BuildSketch(Plane.XY.offset(-80)):
        with BuildLine():
            Line((74.655848302, -141.582814983), (40, -141.582814983))
            Line((40, -141.582814983), (40, -91.24355653))
            ThreePointArc((40, -91.24355653), (55.843697078, -117.43499557), (74.655848302, -141.582814983))
        make_face()
    extrude(amount=-CUT_EXTRUDE_22_DEPTH, mode=Mode.SUBTRACT)

    # 草图41 → 切除-拉伸23 (cut)
    with BuildSketch(Plane(origin=(0, 0, 0), x_dir=(1, 0, 0), z_dir=(0, 1, 0))):
        with Locations((20, 65)):
            Rectangle(SKETCH_41_W, SKETCH_41_H)
        with Locations((20, 205)):
            Rectangle(SKETCH_41_W, SKETCH_41_H)
    extrude(amount=-CUT_EXTRUDE_23_DEPTH, mode=Mode.SUBTRACT)

    # 草图44 → 凸台-拉伸26 (add)
    with BuildSketch(Plane(origin=(0, 60, 0), x_dir=(1, 0, 0), z_dir=(0, 1, 0))):
        with Locations((285, 134.5)):
            Rectangle(SKETCH_44_W, SKETCH_44_H)
    extrude(amount=EXTRUDE_26_DEPTH)

    # 草图45 → 凸台-拉伸27 (add)
    with BuildSketch(Plane.XZ.offset(60)):
        with Locations((285, -134.5)):
            Rectangle(SKETCH_45_W, SKETCH_45_H)
    extrude(amount=EXTRUDE_27_DEPTH)

    # 草图46 → 凸台-拉伸28 (add)
    with BuildSketch(Plane(origin=(240, 0, 0), x_dir=(0, 0, -1), z_dir=(1, 0, 0))):
        Polygon((80, -151.582814983), (105, -160.582814983), (165, -160.582814983), (189, -151.942814983), (189, -130.582814983), (80, -130.582814983), align=None)
    extrude(amount=EXTRUDE_28_DEPTH)

    # 草图47 → 切除-拉伸24 (cut)
    with BuildSketch(Plane(origin=(0, 0, -189), x_dir=(-1, 0, 0), z_dir=(0, 0, -1))):
        with Locations((-32.5, -116.413185757)):
            Rectangle(SKETCH_47_W, SKETCH_47_H)
    extrude(amount=-CUT_EXTRUDE_24_DEPTH, mode=Mode.SUBTRACT)


solid = part.part
